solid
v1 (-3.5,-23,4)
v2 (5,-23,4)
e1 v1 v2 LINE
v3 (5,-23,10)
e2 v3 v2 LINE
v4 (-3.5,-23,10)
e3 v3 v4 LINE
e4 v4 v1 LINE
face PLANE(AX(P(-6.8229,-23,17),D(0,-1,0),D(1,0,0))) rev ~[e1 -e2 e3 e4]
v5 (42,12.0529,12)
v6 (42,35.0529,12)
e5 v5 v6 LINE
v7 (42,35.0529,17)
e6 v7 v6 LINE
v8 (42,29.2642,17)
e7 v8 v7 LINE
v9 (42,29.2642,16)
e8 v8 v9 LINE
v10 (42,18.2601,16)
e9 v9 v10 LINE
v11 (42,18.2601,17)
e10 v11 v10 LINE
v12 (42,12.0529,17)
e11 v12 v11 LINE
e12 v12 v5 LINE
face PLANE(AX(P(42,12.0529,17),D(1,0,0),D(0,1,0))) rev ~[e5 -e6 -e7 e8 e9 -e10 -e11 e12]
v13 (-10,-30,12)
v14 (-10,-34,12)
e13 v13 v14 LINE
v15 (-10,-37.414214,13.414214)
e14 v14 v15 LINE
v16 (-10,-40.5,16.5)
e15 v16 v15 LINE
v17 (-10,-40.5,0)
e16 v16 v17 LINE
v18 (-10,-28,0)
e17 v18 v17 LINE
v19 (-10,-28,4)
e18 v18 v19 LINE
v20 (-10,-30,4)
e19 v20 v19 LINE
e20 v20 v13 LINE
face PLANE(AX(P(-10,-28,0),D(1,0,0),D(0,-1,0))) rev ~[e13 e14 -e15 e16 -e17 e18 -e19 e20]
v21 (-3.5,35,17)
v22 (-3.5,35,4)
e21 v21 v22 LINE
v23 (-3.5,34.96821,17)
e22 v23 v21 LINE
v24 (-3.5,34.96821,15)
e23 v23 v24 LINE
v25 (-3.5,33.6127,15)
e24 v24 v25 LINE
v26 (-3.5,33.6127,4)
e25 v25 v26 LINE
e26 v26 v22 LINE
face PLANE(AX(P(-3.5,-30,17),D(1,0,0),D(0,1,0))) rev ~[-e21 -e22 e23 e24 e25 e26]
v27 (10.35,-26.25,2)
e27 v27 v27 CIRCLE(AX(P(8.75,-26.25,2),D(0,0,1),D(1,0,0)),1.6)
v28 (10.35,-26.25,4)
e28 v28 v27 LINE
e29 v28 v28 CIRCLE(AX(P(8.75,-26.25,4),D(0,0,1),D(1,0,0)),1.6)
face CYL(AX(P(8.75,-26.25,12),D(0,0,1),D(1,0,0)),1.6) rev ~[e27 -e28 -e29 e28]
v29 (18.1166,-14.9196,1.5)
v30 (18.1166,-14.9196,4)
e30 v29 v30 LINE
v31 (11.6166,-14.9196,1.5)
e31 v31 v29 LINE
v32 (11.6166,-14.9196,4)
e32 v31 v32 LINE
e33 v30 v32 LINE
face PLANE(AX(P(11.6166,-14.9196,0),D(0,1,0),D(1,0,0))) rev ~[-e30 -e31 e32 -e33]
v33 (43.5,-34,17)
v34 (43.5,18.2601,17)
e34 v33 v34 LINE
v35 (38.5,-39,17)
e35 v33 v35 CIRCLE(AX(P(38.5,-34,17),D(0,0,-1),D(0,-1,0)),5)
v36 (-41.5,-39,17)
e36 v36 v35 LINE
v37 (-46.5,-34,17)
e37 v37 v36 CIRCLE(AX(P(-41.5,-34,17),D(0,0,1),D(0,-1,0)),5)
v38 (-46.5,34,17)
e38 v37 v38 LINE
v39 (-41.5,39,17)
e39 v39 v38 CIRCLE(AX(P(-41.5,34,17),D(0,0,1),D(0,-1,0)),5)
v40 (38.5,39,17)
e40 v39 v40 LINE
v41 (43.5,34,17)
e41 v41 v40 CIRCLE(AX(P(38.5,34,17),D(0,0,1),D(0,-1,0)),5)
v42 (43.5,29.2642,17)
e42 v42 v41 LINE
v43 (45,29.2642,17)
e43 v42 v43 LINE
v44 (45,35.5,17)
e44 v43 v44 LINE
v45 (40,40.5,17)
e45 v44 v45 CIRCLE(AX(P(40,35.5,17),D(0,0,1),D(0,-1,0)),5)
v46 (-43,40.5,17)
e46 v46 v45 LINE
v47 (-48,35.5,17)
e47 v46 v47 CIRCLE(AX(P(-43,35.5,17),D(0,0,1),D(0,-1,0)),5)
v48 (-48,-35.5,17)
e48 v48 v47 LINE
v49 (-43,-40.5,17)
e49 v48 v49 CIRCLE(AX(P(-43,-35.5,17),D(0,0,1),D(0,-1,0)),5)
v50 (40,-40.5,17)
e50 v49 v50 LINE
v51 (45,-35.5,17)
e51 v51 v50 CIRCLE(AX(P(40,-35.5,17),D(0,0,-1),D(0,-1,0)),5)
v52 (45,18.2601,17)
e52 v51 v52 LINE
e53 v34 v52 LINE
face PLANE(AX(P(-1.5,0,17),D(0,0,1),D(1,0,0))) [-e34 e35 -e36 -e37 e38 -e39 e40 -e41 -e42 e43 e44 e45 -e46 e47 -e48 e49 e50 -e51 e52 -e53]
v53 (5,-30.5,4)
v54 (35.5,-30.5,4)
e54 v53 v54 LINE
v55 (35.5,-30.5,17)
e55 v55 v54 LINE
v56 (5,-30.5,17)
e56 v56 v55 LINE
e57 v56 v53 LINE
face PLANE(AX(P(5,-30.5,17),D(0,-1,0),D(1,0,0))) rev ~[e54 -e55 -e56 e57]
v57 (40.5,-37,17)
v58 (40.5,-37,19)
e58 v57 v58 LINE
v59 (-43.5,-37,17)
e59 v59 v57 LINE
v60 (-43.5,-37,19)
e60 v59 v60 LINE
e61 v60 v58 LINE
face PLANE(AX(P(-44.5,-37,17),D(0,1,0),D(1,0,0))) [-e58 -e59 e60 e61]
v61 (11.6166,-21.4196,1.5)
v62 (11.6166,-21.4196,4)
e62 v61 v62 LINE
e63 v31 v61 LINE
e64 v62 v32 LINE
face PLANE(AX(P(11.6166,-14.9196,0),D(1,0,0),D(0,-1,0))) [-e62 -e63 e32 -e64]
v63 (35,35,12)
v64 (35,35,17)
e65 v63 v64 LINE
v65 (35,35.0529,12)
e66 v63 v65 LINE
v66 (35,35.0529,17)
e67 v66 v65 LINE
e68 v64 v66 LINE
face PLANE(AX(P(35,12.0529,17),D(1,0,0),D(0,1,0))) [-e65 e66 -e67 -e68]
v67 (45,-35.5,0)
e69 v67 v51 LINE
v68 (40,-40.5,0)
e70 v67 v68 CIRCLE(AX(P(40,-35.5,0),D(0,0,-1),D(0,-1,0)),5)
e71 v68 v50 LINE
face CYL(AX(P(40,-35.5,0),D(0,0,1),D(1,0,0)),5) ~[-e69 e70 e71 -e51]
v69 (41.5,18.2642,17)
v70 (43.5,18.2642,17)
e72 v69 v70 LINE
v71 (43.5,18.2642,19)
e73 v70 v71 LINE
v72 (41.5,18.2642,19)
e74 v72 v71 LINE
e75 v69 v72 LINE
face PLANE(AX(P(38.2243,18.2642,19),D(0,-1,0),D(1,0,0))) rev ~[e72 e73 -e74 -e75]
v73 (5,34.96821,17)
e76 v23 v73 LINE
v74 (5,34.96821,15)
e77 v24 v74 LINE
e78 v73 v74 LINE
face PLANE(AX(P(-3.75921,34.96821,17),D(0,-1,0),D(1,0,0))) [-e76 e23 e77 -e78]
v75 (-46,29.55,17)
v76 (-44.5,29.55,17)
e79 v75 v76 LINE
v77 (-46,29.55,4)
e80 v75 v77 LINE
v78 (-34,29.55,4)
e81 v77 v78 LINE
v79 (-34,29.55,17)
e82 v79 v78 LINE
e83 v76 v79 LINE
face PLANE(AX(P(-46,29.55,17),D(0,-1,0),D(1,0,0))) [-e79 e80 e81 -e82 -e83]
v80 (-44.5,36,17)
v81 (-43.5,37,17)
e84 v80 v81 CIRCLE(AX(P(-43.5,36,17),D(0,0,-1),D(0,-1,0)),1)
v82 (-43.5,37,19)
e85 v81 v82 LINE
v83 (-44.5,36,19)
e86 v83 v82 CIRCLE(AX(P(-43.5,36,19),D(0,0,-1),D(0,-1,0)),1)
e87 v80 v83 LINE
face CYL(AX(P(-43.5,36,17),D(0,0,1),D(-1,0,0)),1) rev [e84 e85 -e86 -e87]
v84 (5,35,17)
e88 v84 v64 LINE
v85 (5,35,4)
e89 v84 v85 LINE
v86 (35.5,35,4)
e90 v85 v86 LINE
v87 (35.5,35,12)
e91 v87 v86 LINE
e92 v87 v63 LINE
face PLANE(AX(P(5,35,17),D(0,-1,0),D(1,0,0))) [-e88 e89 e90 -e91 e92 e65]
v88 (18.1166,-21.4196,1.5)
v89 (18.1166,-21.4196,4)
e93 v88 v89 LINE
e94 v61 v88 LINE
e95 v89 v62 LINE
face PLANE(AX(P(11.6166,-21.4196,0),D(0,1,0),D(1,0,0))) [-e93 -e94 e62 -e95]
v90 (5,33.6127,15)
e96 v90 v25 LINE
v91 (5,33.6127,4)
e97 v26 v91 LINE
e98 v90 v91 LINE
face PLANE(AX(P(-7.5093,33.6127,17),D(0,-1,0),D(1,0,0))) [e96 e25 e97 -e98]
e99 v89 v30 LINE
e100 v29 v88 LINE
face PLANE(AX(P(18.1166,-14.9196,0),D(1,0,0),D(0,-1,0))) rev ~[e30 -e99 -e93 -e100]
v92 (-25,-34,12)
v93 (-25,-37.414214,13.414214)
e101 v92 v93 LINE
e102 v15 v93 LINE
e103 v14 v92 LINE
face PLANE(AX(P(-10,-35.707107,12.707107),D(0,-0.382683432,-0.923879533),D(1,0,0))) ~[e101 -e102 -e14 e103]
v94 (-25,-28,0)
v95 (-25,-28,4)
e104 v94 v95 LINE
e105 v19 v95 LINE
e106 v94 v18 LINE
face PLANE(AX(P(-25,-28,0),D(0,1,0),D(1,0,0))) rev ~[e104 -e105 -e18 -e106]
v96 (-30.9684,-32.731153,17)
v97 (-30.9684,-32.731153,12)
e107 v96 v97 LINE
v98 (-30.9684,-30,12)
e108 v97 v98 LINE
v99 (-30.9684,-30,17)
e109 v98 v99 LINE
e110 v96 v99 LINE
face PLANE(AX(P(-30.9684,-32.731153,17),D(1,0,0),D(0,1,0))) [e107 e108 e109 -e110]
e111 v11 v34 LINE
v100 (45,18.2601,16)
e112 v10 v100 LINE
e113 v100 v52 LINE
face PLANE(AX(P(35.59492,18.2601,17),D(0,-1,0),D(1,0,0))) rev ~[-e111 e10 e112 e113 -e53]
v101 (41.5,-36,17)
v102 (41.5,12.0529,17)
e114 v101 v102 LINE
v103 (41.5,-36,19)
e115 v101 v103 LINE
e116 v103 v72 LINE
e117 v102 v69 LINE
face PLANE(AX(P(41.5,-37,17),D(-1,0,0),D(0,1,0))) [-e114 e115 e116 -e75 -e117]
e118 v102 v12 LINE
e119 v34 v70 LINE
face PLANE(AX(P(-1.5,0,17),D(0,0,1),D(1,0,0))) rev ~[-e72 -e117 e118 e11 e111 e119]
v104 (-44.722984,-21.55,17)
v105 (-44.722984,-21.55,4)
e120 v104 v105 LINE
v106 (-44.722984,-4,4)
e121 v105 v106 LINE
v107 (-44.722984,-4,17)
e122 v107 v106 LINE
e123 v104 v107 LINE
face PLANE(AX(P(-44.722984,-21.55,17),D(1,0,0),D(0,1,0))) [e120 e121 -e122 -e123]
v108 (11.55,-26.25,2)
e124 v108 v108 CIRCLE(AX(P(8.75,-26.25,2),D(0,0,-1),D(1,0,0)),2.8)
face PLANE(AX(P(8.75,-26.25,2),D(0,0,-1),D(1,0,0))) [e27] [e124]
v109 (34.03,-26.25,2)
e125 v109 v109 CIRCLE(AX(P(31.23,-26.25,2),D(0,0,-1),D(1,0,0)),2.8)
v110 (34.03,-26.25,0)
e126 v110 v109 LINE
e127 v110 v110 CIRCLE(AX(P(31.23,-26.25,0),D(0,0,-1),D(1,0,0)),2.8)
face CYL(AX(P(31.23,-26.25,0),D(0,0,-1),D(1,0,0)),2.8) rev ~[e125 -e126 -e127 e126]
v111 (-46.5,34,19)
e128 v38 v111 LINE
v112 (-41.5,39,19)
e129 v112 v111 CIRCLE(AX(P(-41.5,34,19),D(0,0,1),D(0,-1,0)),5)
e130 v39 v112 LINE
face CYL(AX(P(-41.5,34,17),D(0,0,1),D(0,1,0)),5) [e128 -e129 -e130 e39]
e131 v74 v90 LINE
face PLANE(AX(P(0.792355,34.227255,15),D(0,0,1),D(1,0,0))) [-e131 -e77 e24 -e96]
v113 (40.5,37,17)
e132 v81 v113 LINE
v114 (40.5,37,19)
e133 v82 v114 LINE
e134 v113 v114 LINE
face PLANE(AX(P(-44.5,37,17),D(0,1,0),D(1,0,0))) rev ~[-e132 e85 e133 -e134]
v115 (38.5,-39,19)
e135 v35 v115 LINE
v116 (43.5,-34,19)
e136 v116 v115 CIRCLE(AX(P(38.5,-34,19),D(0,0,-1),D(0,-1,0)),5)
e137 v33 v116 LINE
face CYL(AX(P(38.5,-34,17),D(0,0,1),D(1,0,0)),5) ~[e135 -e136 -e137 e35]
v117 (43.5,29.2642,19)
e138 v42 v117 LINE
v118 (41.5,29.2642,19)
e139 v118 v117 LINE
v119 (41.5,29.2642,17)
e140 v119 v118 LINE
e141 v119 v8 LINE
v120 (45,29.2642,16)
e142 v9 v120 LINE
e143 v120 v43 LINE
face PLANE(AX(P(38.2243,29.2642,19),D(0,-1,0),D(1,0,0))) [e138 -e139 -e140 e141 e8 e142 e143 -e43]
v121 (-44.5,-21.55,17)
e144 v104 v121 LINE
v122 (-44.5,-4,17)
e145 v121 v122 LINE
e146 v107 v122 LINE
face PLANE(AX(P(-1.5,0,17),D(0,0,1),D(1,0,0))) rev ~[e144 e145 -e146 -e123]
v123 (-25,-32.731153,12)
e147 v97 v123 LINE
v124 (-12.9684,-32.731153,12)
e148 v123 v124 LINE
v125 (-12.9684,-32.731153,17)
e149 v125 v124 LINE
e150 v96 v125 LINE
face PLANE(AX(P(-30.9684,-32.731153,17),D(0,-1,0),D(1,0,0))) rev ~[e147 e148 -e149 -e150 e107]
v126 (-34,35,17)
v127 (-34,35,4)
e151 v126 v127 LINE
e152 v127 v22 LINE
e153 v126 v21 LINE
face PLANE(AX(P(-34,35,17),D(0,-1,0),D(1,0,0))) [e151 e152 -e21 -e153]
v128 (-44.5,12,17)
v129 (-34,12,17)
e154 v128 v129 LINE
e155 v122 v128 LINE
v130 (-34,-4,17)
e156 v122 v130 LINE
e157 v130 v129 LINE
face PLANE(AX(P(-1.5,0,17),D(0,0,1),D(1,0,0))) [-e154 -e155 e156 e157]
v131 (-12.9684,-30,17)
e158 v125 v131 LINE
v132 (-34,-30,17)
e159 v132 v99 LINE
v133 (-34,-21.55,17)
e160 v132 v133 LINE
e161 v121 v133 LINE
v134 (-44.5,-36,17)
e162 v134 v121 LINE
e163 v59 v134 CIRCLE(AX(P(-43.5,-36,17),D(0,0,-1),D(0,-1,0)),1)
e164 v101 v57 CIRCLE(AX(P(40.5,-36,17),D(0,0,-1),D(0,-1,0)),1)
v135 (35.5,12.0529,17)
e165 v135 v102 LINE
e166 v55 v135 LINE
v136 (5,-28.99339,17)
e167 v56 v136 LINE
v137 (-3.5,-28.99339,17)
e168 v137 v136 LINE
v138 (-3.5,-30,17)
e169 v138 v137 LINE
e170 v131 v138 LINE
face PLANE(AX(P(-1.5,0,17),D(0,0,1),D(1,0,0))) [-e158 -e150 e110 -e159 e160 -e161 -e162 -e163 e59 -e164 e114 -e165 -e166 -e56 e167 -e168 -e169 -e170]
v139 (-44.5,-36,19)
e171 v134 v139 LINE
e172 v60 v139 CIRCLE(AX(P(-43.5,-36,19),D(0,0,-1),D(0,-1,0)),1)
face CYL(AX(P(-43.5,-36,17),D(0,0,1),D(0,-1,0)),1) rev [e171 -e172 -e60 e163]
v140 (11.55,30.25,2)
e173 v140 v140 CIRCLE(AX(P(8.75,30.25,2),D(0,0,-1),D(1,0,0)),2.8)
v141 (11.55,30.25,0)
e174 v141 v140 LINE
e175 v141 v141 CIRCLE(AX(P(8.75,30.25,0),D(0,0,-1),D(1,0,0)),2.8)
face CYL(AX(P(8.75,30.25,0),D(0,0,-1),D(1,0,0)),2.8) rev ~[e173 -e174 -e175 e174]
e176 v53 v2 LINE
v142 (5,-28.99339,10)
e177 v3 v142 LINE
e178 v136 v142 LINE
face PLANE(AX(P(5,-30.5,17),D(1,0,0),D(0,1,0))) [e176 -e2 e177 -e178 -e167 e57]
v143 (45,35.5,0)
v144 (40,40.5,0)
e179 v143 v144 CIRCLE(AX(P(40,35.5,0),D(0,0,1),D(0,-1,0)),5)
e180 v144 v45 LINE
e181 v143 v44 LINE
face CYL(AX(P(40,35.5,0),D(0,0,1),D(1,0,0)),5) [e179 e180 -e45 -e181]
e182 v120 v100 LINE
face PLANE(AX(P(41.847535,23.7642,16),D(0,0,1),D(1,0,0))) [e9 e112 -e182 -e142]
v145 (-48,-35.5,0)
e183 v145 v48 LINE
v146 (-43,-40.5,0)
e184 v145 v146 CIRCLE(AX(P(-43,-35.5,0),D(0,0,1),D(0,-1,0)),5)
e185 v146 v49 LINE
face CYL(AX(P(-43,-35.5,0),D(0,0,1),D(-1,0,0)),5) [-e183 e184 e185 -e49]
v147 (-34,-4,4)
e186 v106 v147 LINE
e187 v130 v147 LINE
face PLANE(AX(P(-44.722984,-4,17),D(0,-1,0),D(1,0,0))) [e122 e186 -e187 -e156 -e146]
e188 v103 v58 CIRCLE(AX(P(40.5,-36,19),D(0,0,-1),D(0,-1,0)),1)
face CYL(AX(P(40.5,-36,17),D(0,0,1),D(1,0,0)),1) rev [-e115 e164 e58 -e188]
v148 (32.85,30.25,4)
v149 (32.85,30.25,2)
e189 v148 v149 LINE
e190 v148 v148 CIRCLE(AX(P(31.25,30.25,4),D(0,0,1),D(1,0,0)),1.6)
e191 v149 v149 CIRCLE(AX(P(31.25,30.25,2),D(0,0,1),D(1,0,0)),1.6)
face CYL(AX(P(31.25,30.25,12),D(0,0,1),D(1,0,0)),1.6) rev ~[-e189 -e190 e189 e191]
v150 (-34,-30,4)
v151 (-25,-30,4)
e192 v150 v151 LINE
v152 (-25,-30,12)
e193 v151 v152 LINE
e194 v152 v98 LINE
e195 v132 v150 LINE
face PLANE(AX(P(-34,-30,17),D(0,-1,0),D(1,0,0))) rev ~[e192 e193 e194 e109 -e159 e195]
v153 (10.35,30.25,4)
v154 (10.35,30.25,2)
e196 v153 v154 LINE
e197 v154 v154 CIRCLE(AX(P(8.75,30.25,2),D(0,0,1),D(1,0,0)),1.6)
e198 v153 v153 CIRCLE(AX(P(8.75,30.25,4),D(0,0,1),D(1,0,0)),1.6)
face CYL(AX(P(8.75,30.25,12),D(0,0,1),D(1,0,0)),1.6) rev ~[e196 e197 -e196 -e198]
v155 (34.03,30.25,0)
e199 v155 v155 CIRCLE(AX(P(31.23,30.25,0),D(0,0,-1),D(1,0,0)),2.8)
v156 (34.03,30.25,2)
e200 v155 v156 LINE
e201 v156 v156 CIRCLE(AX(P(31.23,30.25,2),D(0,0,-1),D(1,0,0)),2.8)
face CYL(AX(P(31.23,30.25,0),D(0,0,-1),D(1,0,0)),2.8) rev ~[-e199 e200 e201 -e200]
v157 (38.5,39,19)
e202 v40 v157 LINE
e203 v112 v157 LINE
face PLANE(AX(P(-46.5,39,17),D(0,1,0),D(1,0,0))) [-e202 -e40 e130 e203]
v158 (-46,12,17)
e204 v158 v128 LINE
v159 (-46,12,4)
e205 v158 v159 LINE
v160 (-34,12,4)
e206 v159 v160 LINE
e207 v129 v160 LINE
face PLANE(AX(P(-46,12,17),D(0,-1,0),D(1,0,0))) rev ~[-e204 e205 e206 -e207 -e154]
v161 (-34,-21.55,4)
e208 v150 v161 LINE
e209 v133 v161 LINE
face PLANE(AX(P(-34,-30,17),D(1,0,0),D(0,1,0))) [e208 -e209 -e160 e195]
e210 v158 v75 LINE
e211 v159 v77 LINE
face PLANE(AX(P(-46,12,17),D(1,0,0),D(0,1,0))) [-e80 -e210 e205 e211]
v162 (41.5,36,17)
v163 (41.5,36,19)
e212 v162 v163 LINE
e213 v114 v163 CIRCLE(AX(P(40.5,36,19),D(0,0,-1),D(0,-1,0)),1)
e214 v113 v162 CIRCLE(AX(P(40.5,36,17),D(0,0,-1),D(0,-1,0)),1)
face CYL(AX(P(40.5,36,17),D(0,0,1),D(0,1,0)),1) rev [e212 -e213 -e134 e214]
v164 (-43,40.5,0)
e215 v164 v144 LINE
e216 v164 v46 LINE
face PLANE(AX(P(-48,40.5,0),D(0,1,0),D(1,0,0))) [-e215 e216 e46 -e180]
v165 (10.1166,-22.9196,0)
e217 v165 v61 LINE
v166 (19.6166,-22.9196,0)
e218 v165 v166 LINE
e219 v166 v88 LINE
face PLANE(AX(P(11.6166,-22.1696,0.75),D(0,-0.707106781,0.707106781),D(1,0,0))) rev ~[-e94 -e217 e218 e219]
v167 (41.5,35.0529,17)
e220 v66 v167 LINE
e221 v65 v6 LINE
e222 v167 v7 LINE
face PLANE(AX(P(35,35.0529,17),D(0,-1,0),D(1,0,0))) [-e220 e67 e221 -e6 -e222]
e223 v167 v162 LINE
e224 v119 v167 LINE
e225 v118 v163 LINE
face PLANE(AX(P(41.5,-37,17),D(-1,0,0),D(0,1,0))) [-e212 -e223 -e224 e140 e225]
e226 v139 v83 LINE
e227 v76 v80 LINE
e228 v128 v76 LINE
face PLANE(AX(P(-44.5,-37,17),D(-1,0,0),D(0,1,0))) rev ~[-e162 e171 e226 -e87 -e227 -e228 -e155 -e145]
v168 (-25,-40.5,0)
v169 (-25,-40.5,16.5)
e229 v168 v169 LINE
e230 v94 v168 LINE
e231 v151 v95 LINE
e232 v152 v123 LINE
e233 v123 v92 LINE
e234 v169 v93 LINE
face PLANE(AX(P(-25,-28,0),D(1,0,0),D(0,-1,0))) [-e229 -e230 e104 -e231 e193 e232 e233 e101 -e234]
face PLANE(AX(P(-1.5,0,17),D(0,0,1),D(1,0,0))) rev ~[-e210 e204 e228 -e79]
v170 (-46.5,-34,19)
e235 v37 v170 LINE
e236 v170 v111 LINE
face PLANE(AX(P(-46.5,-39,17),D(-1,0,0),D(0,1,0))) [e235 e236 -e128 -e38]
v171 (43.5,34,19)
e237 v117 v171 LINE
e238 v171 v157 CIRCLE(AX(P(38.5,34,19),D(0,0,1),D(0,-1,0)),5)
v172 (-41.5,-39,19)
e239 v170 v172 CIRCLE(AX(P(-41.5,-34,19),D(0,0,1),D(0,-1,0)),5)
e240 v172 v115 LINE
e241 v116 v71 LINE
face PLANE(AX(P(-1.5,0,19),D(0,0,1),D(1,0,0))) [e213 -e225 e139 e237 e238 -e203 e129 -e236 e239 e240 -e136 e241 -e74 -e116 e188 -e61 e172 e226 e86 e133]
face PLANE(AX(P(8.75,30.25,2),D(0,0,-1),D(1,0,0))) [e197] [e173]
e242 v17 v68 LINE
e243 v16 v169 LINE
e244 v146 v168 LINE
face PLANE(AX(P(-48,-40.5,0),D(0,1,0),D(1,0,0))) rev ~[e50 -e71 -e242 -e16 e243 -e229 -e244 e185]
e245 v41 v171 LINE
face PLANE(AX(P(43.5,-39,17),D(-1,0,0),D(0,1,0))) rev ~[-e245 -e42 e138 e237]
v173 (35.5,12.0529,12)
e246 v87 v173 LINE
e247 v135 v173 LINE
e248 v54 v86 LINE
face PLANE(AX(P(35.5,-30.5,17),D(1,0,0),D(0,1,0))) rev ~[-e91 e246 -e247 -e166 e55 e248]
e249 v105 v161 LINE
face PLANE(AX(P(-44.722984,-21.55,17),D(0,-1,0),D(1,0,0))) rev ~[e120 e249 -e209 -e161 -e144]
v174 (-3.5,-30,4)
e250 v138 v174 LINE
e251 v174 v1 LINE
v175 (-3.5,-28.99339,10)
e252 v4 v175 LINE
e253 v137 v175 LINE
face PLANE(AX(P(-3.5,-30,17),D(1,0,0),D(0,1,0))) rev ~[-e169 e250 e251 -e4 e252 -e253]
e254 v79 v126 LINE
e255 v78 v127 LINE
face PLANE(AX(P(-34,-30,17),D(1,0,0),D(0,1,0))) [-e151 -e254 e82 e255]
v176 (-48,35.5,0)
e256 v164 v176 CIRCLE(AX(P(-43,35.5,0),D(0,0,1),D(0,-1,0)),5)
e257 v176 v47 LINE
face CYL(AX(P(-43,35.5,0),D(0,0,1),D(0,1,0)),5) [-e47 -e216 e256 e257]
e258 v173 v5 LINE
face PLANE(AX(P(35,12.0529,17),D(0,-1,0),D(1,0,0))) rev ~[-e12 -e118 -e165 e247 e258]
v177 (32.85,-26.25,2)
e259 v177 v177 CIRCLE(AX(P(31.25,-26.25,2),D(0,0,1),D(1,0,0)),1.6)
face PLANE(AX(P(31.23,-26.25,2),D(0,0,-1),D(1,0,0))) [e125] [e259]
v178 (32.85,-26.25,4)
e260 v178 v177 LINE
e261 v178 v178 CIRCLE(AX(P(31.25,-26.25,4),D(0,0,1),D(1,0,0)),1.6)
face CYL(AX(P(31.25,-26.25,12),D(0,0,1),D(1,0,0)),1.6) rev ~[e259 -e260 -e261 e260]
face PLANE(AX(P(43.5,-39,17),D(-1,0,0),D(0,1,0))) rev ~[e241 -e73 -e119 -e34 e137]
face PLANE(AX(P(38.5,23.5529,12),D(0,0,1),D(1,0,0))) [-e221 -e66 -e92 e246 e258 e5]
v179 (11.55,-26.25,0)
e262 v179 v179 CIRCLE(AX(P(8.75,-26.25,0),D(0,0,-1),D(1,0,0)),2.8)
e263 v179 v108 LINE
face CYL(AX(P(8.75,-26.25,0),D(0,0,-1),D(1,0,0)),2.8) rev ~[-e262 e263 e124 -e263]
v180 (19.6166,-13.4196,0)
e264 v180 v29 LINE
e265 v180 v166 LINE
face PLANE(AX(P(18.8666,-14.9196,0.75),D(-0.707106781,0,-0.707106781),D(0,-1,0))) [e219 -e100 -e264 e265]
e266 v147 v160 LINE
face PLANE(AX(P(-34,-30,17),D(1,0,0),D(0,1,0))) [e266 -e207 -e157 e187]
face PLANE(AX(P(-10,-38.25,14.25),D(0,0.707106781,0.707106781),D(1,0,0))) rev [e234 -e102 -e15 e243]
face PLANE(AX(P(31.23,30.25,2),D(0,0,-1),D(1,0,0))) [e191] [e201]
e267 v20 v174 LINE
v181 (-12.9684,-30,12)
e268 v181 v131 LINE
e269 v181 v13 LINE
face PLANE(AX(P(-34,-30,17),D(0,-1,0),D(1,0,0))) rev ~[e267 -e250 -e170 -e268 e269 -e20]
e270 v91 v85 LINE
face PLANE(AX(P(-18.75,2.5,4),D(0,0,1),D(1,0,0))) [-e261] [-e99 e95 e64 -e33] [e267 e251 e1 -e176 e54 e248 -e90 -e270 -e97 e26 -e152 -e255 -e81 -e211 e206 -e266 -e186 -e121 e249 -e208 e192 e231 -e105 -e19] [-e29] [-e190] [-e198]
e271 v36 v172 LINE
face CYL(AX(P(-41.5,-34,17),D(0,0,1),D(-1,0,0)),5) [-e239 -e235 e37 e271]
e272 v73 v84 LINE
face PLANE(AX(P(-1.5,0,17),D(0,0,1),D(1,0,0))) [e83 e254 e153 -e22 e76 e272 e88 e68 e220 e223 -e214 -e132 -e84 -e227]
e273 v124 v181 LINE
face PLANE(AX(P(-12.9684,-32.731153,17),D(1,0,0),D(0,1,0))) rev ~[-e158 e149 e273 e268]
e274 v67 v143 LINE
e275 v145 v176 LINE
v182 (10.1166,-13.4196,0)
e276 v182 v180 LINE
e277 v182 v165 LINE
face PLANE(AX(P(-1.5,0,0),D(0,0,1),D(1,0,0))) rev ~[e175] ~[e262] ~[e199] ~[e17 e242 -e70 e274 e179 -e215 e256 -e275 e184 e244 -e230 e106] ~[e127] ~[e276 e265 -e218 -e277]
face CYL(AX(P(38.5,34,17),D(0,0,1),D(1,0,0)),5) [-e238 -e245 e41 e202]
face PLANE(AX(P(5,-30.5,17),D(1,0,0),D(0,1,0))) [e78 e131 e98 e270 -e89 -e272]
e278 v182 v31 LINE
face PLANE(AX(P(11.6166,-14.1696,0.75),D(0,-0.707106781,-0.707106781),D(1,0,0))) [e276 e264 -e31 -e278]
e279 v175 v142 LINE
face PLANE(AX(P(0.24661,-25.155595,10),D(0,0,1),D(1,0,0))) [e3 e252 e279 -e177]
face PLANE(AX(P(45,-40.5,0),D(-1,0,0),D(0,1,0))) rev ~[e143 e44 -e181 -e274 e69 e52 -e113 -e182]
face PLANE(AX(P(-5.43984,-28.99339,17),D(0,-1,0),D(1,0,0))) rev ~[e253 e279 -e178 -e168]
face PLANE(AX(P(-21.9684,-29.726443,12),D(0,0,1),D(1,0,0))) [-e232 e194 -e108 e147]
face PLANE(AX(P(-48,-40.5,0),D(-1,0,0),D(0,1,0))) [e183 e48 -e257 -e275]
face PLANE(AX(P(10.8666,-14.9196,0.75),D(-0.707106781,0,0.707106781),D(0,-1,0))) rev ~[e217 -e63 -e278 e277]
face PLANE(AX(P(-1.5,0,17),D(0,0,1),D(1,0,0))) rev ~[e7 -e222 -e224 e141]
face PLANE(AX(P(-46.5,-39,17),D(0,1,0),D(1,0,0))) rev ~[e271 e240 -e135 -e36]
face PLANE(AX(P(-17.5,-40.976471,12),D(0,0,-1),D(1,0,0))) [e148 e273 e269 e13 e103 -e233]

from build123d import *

# Parameters (mm, degrees)
SKETCH_W        = 93
SKETCH_H        = 81
PAD_DEPTH       = 17
SKETCH001_W     = 30.5
SKETCH001_H     = 65.5
POCKET_DEPTH    = 13
SKETCH002_W     = 30.5
SKETCH002_H     = 65
POCKET001_DEPTH = 13
SKETCH003_W     = 13.6458
SKETCH003_H     = 16
POCKET002_DEPTH = 13
SKETCH004_W     = 16.2724
SKETCH004_H     = 17.55
POCKET003_DEPTH = 13
SKETCH005_W     = 15.0186
SKETCH005_H     = 42.9244
POCKET004_DEPTH = 13
SKETCH006_W     = 15
SKETCH006_H     = 25.952942
POCKET005_DEPTH = 12
SKETCH007_W     = 18
SKETCH007_H     = 6.009419
POCKET006_DEPTH = 5
SKETCH009_W     = 7
SKETCH009_H     = 23
POCKET008_DEPTH = 5
SKETCH010_W     = 11.0603
SKETCH010_H     = 11
POCKET009_DEPTH = 1
SKETCH011_W     = 6.5
SKETCH011_H     = 6.5
POCKET010_DEPTH = 17.001
SKETCH014_W     = 16.1
SKETCH014_H     = 12
POCKET011_DEPTH = 5
SKETCH016_R     = 1.6
POCKET012_DEPTH = 12.001
SKETCH017_W     = 90
SKETCH017_H     = 78
SKETCH017_W_2   = 86
SKETCH017_H_2   = 74
PAD001_DEPTH    = 2
SKETCH021_W     = 7.24647
SKETCH021_H     = 11
POCKET013_DEPTH = 3
SKETCH020_R     = 2.8
POCKET014_DEPTH = 2
CHAMFER_SIZE    = 1.5
CHAMFER001_SIZE = 4.5
CHAMFER002_SIZE = 2
FILLET_R        = 1
FILLET001_R     = 5
FILLET002_R     = 5
SKETCH022_W     = 11.3729
SKETCH022_H     = 7.67559
POCKET015_DEPTH = 7
SKETCH023_W     = 9.10313
SKETCH023_H     = 1.48191
POCKET016_DEPTH = 2


with BuildPart() as part:
    # Sketch → Pad (new body)
    with BuildSketch(Plane.XY):
        with Locations((-1.5, 0)):
            Rectangle(SKETCH_W, SKETCH_H)
    extrude(amount=PAD_DEPTH)

    # Sketch001 → Pocket (cut)
    with BuildSketch(Plane.XY.offset(17)):
        with Locations((20.25, 2.25)):
            Rectangle(SKETCH001_W, SKETCH001_H)
    extrude(amount=-POCKET_DEPTH, mode=Mode.SUBTRACT)

    # Sketch002 → Pocket001 (cut)
    with BuildSketch(Plane.XY.offset(17)):
        with Locations((-18.75, 2.5)):
            Rectangle(SKETCH002_W, SKETCH002_H)
    extrude(amount=-POCKET001_DEPTH, mode=Mode.SUBTRACT)

    # Sketch003 → Pocket002 (cut)
    with BuildSketch(Plane.XY.offset(17)):
        with Locations((0, -15)):
            Rectangle(SKETCH003_W, SKETCH003_H)
    extrude(amount=-POCKET002_DEPTH, mode=Mode.SUBTRACT)

    # Sketch004 → Pocket003 (cut)
    with BuildSketch(Plane.XY.offset(17)):
        with Locations((-37.8638, 20.775)):
            Rectangle(SKETCH004_W, SKETCH004_H)
        with Locations((-36.586784, -12.775)):
            Rectangle(SKETCH004_W, SKETCH004_H)
    extrude(amount=-POCKET003_DEPTH, mode=Mode.SUBTRACT)

    # Sketch005 → Pocket004 (cut)
    with BuildSketch(Plane.XY.offset(17)):
        with Locations((0, 12.1505)):
            Rectangle(SKETCH005_W, SKETCH005_H)
    extrude(amount=-POCKET004_DEPTH, mode=Mode.SUBTRACT)

    # Sketch006 → Pocket005 (cut)
    with BuildSketch(Plane(origin=(0, 0, 0), x_dir=(1, 0, 0), z_dir=(0, 0, -1))):
        with Locations((-17.5, 40.976471)):
            Rectangle(SKETCH006_W, SKETCH006_H)
    extrude(amount=-POCKET005_DEPTH, mode=Mode.SUBTRACT)

    # Sketch007 → Pocket006 (cut)
    with BuildSketch(Plane.XY.offset(17)):
        with Locations((-21.9684, -29.726443)):
            Rectangle(SKETCH007_W, SKETCH007_H)
    extrude(amount=-POCKET006_DEPTH, mode=Mode.SUBTRACT)

    # Sketch009 → Pocket008 (cut)
    with BuildSketch(Plane.XY.offset(17)):
        with Locations((38.5, 23.5529)):
            Rectangle(SKETCH009_W, SKETCH009_H)
    extrude(amount=-POCKET008_DEPTH, mode=Mode.SUBTRACT)

    # Sketch010 → Pocket009 (cut)
    with BuildSketch(Plane.XY.offset(17)):
        with Locations((41.12507, 23.7601)):
            Rectangle(SKETCH010_W, SKETCH010_H)
    extrude(amount=-POCKET009_DEPTH, mode=Mode.SUBTRACT)

    # Sketch011 → Pocket010 (cut, through all)
    with BuildSketch(Plane(origin=(0, 0, 0), x_dir=(1, 0, 0), z_dir=(0, 0, -1))):
        with Locations((14.8666, 18.1696)):
            Rectangle(SKETCH011_W, SKETCH011_H)
    extrude(amount=-POCKET010_DEPTH, mode=Mode.SUBTRACT)

    # Sketch014 → Pocket011 (cut)
    with BuildSketch(Plane.YZ.offset(5)):
        with Locations((4.01337, 13)):
            Rectangle(SKETCH014_W, SKETCH014_H)
    extrude(amount=-POCKET011_DEPTH, mode=Mode.SUBTRACT)

    # Sketch016 → Pocket012 (cut, through all)
    with BuildSketch(Plane.XY.offset(12)):
        with Locations((8.75, 30.25)):
            Circle(SKETCH016_R)
        with Locations((31.25, 30.25)):
            Circle(SKETCH016_R)
        with Locations((8.75, -26.25)):
            Circle(SKETCH016_R)
        with Locations((31.25, -26.25)):
            Circle(SKETCH016_R)
    extrude(amount=-POCKET012_DEPTH, mode=Mode.SUBTRACT)

    # Sketch017 → Pad001 (new body)
    with BuildSketch(Plane.XY.offset(17)):
        with Locations((-1.5, 0)):
            Rectangle(SKETCH017_W, SKETCH017_H)
        with Locations((-1.5, 0)):
            Rectangle(SKETCH017_W_2, SKETCH017_H_2, mode=Mode.SUBTRACT)
    extrude(amount=PAD001_DEPTH)

    # Sketch021 → Pocket013 (cut)
    with BuildSketch(Plane.XY.offset(19)):
        with Locations((41.847535, 23.7642)):
            Rectangle(SKETCH021_W, SKETCH021_H)
    extrude(amount=-POCKET013_DEPTH, mode=Mode.SUBTRACT)

    # Sketch020 → Pocket014 (cut)
    with BuildSketch(Plane(origin=(0, 0, 0), x_dir=(1, 0, 0), z_dir=(0, 0, -1))):
        with Locations((8.75, 26.25)):
            Circle(SKETCH020_R)
        with Locations((31.23, 26.25)):
            Circle(SKETCH020_R)
        with Locations((8.75, -30.25)):
            Circle(SKETCH020_R)
        with Locations((31.23, -30.25)):
            Circle(SKETCH020_R)
    extrude(amount=-POCKET014_DEPTH, mode=Mode.SUBTRACT)

    # Chamfer
    chamfer_edges = [part.edges().sort_by_distance(p)[0] for p in [
        (14.8666, -21.4196, 0),
        (18.1166, -18.1696, 0),
        (14.8666, -14.9196, 0),
        (11.6166, -18.1696, 0),
    ]]
    chamfer(chamfer_edges, length=CHAMFER_SIZE)

    # Chamfer001
    chamfer001_edges = [part.edges().sort_by_distance(p)[0] for p in [
        (-17.5, -40.5, 12),
    ]]
    chamfer(chamfer001_edges, length=CHAMFER001_SIZE)

    # Chamfer002
    chamfer002_edges = [part.edges().sort_by_distance(p)[0] for p in [
        (-17.5, -36, 12),
    ]]
    chamfer(chamfer002_edges, length=CHAMFER002_SIZE)

    # Fillet
    fillet_edges = [part.edges().sort_by_distance(p)[0] for p in [
        (41.5, 37, 18),
        (41.5, -37, 18),
        (-44.5, 37, 18),
        (-44.5, -37, 18),
    ]]
    fillet(fillet_edges, radius=FILLET_R)

    # Fillet001
    fillet001_edges = [part.edges().sort_by_distance(p)[0] for p in [
        (-46.5, -39, 18),
        (-46.5, 39, 18),
        (43.5, 39, 18),
        (43.5, -39, 18),
    ]]
    fillet(fillet001_edges, radius=FILLET001_R)

    # Fillet002
    fillet002_edges = [part.edges().sort_by_distance(p)[0] for p in [
        (45, -40.5, 8.5),
        (-48, -40.5, 8.5),
        (-48, 40.5, 8.5),
        (45, 40.5, 8.5),
    ]]
    fillet(fillet002_edges, radius=FILLET002_R)

    # Sketch022 → Pocket015 (cut)
    with BuildSketch(Plane.XY.offset(17)):
        with Locations((0.24661, -25.155595)):
            Rectangle(SKETCH022_W, SKETCH022_H)
    extrude(amount=-POCKET015_DEPTH, mode=Mode.SUBTRACT)

    # Sketch023 → Pocket016 (cut)
    with BuildSketch(Plane.XY.offset(17)):
        with Locations((0.792355, 34.227255)):
            Rectangle(SKETCH023_W, SKETCH023_H)
    extrude(amount=-POCKET016_DEPTH, mode=Mode.SUBTRACT)


solid = part.part
